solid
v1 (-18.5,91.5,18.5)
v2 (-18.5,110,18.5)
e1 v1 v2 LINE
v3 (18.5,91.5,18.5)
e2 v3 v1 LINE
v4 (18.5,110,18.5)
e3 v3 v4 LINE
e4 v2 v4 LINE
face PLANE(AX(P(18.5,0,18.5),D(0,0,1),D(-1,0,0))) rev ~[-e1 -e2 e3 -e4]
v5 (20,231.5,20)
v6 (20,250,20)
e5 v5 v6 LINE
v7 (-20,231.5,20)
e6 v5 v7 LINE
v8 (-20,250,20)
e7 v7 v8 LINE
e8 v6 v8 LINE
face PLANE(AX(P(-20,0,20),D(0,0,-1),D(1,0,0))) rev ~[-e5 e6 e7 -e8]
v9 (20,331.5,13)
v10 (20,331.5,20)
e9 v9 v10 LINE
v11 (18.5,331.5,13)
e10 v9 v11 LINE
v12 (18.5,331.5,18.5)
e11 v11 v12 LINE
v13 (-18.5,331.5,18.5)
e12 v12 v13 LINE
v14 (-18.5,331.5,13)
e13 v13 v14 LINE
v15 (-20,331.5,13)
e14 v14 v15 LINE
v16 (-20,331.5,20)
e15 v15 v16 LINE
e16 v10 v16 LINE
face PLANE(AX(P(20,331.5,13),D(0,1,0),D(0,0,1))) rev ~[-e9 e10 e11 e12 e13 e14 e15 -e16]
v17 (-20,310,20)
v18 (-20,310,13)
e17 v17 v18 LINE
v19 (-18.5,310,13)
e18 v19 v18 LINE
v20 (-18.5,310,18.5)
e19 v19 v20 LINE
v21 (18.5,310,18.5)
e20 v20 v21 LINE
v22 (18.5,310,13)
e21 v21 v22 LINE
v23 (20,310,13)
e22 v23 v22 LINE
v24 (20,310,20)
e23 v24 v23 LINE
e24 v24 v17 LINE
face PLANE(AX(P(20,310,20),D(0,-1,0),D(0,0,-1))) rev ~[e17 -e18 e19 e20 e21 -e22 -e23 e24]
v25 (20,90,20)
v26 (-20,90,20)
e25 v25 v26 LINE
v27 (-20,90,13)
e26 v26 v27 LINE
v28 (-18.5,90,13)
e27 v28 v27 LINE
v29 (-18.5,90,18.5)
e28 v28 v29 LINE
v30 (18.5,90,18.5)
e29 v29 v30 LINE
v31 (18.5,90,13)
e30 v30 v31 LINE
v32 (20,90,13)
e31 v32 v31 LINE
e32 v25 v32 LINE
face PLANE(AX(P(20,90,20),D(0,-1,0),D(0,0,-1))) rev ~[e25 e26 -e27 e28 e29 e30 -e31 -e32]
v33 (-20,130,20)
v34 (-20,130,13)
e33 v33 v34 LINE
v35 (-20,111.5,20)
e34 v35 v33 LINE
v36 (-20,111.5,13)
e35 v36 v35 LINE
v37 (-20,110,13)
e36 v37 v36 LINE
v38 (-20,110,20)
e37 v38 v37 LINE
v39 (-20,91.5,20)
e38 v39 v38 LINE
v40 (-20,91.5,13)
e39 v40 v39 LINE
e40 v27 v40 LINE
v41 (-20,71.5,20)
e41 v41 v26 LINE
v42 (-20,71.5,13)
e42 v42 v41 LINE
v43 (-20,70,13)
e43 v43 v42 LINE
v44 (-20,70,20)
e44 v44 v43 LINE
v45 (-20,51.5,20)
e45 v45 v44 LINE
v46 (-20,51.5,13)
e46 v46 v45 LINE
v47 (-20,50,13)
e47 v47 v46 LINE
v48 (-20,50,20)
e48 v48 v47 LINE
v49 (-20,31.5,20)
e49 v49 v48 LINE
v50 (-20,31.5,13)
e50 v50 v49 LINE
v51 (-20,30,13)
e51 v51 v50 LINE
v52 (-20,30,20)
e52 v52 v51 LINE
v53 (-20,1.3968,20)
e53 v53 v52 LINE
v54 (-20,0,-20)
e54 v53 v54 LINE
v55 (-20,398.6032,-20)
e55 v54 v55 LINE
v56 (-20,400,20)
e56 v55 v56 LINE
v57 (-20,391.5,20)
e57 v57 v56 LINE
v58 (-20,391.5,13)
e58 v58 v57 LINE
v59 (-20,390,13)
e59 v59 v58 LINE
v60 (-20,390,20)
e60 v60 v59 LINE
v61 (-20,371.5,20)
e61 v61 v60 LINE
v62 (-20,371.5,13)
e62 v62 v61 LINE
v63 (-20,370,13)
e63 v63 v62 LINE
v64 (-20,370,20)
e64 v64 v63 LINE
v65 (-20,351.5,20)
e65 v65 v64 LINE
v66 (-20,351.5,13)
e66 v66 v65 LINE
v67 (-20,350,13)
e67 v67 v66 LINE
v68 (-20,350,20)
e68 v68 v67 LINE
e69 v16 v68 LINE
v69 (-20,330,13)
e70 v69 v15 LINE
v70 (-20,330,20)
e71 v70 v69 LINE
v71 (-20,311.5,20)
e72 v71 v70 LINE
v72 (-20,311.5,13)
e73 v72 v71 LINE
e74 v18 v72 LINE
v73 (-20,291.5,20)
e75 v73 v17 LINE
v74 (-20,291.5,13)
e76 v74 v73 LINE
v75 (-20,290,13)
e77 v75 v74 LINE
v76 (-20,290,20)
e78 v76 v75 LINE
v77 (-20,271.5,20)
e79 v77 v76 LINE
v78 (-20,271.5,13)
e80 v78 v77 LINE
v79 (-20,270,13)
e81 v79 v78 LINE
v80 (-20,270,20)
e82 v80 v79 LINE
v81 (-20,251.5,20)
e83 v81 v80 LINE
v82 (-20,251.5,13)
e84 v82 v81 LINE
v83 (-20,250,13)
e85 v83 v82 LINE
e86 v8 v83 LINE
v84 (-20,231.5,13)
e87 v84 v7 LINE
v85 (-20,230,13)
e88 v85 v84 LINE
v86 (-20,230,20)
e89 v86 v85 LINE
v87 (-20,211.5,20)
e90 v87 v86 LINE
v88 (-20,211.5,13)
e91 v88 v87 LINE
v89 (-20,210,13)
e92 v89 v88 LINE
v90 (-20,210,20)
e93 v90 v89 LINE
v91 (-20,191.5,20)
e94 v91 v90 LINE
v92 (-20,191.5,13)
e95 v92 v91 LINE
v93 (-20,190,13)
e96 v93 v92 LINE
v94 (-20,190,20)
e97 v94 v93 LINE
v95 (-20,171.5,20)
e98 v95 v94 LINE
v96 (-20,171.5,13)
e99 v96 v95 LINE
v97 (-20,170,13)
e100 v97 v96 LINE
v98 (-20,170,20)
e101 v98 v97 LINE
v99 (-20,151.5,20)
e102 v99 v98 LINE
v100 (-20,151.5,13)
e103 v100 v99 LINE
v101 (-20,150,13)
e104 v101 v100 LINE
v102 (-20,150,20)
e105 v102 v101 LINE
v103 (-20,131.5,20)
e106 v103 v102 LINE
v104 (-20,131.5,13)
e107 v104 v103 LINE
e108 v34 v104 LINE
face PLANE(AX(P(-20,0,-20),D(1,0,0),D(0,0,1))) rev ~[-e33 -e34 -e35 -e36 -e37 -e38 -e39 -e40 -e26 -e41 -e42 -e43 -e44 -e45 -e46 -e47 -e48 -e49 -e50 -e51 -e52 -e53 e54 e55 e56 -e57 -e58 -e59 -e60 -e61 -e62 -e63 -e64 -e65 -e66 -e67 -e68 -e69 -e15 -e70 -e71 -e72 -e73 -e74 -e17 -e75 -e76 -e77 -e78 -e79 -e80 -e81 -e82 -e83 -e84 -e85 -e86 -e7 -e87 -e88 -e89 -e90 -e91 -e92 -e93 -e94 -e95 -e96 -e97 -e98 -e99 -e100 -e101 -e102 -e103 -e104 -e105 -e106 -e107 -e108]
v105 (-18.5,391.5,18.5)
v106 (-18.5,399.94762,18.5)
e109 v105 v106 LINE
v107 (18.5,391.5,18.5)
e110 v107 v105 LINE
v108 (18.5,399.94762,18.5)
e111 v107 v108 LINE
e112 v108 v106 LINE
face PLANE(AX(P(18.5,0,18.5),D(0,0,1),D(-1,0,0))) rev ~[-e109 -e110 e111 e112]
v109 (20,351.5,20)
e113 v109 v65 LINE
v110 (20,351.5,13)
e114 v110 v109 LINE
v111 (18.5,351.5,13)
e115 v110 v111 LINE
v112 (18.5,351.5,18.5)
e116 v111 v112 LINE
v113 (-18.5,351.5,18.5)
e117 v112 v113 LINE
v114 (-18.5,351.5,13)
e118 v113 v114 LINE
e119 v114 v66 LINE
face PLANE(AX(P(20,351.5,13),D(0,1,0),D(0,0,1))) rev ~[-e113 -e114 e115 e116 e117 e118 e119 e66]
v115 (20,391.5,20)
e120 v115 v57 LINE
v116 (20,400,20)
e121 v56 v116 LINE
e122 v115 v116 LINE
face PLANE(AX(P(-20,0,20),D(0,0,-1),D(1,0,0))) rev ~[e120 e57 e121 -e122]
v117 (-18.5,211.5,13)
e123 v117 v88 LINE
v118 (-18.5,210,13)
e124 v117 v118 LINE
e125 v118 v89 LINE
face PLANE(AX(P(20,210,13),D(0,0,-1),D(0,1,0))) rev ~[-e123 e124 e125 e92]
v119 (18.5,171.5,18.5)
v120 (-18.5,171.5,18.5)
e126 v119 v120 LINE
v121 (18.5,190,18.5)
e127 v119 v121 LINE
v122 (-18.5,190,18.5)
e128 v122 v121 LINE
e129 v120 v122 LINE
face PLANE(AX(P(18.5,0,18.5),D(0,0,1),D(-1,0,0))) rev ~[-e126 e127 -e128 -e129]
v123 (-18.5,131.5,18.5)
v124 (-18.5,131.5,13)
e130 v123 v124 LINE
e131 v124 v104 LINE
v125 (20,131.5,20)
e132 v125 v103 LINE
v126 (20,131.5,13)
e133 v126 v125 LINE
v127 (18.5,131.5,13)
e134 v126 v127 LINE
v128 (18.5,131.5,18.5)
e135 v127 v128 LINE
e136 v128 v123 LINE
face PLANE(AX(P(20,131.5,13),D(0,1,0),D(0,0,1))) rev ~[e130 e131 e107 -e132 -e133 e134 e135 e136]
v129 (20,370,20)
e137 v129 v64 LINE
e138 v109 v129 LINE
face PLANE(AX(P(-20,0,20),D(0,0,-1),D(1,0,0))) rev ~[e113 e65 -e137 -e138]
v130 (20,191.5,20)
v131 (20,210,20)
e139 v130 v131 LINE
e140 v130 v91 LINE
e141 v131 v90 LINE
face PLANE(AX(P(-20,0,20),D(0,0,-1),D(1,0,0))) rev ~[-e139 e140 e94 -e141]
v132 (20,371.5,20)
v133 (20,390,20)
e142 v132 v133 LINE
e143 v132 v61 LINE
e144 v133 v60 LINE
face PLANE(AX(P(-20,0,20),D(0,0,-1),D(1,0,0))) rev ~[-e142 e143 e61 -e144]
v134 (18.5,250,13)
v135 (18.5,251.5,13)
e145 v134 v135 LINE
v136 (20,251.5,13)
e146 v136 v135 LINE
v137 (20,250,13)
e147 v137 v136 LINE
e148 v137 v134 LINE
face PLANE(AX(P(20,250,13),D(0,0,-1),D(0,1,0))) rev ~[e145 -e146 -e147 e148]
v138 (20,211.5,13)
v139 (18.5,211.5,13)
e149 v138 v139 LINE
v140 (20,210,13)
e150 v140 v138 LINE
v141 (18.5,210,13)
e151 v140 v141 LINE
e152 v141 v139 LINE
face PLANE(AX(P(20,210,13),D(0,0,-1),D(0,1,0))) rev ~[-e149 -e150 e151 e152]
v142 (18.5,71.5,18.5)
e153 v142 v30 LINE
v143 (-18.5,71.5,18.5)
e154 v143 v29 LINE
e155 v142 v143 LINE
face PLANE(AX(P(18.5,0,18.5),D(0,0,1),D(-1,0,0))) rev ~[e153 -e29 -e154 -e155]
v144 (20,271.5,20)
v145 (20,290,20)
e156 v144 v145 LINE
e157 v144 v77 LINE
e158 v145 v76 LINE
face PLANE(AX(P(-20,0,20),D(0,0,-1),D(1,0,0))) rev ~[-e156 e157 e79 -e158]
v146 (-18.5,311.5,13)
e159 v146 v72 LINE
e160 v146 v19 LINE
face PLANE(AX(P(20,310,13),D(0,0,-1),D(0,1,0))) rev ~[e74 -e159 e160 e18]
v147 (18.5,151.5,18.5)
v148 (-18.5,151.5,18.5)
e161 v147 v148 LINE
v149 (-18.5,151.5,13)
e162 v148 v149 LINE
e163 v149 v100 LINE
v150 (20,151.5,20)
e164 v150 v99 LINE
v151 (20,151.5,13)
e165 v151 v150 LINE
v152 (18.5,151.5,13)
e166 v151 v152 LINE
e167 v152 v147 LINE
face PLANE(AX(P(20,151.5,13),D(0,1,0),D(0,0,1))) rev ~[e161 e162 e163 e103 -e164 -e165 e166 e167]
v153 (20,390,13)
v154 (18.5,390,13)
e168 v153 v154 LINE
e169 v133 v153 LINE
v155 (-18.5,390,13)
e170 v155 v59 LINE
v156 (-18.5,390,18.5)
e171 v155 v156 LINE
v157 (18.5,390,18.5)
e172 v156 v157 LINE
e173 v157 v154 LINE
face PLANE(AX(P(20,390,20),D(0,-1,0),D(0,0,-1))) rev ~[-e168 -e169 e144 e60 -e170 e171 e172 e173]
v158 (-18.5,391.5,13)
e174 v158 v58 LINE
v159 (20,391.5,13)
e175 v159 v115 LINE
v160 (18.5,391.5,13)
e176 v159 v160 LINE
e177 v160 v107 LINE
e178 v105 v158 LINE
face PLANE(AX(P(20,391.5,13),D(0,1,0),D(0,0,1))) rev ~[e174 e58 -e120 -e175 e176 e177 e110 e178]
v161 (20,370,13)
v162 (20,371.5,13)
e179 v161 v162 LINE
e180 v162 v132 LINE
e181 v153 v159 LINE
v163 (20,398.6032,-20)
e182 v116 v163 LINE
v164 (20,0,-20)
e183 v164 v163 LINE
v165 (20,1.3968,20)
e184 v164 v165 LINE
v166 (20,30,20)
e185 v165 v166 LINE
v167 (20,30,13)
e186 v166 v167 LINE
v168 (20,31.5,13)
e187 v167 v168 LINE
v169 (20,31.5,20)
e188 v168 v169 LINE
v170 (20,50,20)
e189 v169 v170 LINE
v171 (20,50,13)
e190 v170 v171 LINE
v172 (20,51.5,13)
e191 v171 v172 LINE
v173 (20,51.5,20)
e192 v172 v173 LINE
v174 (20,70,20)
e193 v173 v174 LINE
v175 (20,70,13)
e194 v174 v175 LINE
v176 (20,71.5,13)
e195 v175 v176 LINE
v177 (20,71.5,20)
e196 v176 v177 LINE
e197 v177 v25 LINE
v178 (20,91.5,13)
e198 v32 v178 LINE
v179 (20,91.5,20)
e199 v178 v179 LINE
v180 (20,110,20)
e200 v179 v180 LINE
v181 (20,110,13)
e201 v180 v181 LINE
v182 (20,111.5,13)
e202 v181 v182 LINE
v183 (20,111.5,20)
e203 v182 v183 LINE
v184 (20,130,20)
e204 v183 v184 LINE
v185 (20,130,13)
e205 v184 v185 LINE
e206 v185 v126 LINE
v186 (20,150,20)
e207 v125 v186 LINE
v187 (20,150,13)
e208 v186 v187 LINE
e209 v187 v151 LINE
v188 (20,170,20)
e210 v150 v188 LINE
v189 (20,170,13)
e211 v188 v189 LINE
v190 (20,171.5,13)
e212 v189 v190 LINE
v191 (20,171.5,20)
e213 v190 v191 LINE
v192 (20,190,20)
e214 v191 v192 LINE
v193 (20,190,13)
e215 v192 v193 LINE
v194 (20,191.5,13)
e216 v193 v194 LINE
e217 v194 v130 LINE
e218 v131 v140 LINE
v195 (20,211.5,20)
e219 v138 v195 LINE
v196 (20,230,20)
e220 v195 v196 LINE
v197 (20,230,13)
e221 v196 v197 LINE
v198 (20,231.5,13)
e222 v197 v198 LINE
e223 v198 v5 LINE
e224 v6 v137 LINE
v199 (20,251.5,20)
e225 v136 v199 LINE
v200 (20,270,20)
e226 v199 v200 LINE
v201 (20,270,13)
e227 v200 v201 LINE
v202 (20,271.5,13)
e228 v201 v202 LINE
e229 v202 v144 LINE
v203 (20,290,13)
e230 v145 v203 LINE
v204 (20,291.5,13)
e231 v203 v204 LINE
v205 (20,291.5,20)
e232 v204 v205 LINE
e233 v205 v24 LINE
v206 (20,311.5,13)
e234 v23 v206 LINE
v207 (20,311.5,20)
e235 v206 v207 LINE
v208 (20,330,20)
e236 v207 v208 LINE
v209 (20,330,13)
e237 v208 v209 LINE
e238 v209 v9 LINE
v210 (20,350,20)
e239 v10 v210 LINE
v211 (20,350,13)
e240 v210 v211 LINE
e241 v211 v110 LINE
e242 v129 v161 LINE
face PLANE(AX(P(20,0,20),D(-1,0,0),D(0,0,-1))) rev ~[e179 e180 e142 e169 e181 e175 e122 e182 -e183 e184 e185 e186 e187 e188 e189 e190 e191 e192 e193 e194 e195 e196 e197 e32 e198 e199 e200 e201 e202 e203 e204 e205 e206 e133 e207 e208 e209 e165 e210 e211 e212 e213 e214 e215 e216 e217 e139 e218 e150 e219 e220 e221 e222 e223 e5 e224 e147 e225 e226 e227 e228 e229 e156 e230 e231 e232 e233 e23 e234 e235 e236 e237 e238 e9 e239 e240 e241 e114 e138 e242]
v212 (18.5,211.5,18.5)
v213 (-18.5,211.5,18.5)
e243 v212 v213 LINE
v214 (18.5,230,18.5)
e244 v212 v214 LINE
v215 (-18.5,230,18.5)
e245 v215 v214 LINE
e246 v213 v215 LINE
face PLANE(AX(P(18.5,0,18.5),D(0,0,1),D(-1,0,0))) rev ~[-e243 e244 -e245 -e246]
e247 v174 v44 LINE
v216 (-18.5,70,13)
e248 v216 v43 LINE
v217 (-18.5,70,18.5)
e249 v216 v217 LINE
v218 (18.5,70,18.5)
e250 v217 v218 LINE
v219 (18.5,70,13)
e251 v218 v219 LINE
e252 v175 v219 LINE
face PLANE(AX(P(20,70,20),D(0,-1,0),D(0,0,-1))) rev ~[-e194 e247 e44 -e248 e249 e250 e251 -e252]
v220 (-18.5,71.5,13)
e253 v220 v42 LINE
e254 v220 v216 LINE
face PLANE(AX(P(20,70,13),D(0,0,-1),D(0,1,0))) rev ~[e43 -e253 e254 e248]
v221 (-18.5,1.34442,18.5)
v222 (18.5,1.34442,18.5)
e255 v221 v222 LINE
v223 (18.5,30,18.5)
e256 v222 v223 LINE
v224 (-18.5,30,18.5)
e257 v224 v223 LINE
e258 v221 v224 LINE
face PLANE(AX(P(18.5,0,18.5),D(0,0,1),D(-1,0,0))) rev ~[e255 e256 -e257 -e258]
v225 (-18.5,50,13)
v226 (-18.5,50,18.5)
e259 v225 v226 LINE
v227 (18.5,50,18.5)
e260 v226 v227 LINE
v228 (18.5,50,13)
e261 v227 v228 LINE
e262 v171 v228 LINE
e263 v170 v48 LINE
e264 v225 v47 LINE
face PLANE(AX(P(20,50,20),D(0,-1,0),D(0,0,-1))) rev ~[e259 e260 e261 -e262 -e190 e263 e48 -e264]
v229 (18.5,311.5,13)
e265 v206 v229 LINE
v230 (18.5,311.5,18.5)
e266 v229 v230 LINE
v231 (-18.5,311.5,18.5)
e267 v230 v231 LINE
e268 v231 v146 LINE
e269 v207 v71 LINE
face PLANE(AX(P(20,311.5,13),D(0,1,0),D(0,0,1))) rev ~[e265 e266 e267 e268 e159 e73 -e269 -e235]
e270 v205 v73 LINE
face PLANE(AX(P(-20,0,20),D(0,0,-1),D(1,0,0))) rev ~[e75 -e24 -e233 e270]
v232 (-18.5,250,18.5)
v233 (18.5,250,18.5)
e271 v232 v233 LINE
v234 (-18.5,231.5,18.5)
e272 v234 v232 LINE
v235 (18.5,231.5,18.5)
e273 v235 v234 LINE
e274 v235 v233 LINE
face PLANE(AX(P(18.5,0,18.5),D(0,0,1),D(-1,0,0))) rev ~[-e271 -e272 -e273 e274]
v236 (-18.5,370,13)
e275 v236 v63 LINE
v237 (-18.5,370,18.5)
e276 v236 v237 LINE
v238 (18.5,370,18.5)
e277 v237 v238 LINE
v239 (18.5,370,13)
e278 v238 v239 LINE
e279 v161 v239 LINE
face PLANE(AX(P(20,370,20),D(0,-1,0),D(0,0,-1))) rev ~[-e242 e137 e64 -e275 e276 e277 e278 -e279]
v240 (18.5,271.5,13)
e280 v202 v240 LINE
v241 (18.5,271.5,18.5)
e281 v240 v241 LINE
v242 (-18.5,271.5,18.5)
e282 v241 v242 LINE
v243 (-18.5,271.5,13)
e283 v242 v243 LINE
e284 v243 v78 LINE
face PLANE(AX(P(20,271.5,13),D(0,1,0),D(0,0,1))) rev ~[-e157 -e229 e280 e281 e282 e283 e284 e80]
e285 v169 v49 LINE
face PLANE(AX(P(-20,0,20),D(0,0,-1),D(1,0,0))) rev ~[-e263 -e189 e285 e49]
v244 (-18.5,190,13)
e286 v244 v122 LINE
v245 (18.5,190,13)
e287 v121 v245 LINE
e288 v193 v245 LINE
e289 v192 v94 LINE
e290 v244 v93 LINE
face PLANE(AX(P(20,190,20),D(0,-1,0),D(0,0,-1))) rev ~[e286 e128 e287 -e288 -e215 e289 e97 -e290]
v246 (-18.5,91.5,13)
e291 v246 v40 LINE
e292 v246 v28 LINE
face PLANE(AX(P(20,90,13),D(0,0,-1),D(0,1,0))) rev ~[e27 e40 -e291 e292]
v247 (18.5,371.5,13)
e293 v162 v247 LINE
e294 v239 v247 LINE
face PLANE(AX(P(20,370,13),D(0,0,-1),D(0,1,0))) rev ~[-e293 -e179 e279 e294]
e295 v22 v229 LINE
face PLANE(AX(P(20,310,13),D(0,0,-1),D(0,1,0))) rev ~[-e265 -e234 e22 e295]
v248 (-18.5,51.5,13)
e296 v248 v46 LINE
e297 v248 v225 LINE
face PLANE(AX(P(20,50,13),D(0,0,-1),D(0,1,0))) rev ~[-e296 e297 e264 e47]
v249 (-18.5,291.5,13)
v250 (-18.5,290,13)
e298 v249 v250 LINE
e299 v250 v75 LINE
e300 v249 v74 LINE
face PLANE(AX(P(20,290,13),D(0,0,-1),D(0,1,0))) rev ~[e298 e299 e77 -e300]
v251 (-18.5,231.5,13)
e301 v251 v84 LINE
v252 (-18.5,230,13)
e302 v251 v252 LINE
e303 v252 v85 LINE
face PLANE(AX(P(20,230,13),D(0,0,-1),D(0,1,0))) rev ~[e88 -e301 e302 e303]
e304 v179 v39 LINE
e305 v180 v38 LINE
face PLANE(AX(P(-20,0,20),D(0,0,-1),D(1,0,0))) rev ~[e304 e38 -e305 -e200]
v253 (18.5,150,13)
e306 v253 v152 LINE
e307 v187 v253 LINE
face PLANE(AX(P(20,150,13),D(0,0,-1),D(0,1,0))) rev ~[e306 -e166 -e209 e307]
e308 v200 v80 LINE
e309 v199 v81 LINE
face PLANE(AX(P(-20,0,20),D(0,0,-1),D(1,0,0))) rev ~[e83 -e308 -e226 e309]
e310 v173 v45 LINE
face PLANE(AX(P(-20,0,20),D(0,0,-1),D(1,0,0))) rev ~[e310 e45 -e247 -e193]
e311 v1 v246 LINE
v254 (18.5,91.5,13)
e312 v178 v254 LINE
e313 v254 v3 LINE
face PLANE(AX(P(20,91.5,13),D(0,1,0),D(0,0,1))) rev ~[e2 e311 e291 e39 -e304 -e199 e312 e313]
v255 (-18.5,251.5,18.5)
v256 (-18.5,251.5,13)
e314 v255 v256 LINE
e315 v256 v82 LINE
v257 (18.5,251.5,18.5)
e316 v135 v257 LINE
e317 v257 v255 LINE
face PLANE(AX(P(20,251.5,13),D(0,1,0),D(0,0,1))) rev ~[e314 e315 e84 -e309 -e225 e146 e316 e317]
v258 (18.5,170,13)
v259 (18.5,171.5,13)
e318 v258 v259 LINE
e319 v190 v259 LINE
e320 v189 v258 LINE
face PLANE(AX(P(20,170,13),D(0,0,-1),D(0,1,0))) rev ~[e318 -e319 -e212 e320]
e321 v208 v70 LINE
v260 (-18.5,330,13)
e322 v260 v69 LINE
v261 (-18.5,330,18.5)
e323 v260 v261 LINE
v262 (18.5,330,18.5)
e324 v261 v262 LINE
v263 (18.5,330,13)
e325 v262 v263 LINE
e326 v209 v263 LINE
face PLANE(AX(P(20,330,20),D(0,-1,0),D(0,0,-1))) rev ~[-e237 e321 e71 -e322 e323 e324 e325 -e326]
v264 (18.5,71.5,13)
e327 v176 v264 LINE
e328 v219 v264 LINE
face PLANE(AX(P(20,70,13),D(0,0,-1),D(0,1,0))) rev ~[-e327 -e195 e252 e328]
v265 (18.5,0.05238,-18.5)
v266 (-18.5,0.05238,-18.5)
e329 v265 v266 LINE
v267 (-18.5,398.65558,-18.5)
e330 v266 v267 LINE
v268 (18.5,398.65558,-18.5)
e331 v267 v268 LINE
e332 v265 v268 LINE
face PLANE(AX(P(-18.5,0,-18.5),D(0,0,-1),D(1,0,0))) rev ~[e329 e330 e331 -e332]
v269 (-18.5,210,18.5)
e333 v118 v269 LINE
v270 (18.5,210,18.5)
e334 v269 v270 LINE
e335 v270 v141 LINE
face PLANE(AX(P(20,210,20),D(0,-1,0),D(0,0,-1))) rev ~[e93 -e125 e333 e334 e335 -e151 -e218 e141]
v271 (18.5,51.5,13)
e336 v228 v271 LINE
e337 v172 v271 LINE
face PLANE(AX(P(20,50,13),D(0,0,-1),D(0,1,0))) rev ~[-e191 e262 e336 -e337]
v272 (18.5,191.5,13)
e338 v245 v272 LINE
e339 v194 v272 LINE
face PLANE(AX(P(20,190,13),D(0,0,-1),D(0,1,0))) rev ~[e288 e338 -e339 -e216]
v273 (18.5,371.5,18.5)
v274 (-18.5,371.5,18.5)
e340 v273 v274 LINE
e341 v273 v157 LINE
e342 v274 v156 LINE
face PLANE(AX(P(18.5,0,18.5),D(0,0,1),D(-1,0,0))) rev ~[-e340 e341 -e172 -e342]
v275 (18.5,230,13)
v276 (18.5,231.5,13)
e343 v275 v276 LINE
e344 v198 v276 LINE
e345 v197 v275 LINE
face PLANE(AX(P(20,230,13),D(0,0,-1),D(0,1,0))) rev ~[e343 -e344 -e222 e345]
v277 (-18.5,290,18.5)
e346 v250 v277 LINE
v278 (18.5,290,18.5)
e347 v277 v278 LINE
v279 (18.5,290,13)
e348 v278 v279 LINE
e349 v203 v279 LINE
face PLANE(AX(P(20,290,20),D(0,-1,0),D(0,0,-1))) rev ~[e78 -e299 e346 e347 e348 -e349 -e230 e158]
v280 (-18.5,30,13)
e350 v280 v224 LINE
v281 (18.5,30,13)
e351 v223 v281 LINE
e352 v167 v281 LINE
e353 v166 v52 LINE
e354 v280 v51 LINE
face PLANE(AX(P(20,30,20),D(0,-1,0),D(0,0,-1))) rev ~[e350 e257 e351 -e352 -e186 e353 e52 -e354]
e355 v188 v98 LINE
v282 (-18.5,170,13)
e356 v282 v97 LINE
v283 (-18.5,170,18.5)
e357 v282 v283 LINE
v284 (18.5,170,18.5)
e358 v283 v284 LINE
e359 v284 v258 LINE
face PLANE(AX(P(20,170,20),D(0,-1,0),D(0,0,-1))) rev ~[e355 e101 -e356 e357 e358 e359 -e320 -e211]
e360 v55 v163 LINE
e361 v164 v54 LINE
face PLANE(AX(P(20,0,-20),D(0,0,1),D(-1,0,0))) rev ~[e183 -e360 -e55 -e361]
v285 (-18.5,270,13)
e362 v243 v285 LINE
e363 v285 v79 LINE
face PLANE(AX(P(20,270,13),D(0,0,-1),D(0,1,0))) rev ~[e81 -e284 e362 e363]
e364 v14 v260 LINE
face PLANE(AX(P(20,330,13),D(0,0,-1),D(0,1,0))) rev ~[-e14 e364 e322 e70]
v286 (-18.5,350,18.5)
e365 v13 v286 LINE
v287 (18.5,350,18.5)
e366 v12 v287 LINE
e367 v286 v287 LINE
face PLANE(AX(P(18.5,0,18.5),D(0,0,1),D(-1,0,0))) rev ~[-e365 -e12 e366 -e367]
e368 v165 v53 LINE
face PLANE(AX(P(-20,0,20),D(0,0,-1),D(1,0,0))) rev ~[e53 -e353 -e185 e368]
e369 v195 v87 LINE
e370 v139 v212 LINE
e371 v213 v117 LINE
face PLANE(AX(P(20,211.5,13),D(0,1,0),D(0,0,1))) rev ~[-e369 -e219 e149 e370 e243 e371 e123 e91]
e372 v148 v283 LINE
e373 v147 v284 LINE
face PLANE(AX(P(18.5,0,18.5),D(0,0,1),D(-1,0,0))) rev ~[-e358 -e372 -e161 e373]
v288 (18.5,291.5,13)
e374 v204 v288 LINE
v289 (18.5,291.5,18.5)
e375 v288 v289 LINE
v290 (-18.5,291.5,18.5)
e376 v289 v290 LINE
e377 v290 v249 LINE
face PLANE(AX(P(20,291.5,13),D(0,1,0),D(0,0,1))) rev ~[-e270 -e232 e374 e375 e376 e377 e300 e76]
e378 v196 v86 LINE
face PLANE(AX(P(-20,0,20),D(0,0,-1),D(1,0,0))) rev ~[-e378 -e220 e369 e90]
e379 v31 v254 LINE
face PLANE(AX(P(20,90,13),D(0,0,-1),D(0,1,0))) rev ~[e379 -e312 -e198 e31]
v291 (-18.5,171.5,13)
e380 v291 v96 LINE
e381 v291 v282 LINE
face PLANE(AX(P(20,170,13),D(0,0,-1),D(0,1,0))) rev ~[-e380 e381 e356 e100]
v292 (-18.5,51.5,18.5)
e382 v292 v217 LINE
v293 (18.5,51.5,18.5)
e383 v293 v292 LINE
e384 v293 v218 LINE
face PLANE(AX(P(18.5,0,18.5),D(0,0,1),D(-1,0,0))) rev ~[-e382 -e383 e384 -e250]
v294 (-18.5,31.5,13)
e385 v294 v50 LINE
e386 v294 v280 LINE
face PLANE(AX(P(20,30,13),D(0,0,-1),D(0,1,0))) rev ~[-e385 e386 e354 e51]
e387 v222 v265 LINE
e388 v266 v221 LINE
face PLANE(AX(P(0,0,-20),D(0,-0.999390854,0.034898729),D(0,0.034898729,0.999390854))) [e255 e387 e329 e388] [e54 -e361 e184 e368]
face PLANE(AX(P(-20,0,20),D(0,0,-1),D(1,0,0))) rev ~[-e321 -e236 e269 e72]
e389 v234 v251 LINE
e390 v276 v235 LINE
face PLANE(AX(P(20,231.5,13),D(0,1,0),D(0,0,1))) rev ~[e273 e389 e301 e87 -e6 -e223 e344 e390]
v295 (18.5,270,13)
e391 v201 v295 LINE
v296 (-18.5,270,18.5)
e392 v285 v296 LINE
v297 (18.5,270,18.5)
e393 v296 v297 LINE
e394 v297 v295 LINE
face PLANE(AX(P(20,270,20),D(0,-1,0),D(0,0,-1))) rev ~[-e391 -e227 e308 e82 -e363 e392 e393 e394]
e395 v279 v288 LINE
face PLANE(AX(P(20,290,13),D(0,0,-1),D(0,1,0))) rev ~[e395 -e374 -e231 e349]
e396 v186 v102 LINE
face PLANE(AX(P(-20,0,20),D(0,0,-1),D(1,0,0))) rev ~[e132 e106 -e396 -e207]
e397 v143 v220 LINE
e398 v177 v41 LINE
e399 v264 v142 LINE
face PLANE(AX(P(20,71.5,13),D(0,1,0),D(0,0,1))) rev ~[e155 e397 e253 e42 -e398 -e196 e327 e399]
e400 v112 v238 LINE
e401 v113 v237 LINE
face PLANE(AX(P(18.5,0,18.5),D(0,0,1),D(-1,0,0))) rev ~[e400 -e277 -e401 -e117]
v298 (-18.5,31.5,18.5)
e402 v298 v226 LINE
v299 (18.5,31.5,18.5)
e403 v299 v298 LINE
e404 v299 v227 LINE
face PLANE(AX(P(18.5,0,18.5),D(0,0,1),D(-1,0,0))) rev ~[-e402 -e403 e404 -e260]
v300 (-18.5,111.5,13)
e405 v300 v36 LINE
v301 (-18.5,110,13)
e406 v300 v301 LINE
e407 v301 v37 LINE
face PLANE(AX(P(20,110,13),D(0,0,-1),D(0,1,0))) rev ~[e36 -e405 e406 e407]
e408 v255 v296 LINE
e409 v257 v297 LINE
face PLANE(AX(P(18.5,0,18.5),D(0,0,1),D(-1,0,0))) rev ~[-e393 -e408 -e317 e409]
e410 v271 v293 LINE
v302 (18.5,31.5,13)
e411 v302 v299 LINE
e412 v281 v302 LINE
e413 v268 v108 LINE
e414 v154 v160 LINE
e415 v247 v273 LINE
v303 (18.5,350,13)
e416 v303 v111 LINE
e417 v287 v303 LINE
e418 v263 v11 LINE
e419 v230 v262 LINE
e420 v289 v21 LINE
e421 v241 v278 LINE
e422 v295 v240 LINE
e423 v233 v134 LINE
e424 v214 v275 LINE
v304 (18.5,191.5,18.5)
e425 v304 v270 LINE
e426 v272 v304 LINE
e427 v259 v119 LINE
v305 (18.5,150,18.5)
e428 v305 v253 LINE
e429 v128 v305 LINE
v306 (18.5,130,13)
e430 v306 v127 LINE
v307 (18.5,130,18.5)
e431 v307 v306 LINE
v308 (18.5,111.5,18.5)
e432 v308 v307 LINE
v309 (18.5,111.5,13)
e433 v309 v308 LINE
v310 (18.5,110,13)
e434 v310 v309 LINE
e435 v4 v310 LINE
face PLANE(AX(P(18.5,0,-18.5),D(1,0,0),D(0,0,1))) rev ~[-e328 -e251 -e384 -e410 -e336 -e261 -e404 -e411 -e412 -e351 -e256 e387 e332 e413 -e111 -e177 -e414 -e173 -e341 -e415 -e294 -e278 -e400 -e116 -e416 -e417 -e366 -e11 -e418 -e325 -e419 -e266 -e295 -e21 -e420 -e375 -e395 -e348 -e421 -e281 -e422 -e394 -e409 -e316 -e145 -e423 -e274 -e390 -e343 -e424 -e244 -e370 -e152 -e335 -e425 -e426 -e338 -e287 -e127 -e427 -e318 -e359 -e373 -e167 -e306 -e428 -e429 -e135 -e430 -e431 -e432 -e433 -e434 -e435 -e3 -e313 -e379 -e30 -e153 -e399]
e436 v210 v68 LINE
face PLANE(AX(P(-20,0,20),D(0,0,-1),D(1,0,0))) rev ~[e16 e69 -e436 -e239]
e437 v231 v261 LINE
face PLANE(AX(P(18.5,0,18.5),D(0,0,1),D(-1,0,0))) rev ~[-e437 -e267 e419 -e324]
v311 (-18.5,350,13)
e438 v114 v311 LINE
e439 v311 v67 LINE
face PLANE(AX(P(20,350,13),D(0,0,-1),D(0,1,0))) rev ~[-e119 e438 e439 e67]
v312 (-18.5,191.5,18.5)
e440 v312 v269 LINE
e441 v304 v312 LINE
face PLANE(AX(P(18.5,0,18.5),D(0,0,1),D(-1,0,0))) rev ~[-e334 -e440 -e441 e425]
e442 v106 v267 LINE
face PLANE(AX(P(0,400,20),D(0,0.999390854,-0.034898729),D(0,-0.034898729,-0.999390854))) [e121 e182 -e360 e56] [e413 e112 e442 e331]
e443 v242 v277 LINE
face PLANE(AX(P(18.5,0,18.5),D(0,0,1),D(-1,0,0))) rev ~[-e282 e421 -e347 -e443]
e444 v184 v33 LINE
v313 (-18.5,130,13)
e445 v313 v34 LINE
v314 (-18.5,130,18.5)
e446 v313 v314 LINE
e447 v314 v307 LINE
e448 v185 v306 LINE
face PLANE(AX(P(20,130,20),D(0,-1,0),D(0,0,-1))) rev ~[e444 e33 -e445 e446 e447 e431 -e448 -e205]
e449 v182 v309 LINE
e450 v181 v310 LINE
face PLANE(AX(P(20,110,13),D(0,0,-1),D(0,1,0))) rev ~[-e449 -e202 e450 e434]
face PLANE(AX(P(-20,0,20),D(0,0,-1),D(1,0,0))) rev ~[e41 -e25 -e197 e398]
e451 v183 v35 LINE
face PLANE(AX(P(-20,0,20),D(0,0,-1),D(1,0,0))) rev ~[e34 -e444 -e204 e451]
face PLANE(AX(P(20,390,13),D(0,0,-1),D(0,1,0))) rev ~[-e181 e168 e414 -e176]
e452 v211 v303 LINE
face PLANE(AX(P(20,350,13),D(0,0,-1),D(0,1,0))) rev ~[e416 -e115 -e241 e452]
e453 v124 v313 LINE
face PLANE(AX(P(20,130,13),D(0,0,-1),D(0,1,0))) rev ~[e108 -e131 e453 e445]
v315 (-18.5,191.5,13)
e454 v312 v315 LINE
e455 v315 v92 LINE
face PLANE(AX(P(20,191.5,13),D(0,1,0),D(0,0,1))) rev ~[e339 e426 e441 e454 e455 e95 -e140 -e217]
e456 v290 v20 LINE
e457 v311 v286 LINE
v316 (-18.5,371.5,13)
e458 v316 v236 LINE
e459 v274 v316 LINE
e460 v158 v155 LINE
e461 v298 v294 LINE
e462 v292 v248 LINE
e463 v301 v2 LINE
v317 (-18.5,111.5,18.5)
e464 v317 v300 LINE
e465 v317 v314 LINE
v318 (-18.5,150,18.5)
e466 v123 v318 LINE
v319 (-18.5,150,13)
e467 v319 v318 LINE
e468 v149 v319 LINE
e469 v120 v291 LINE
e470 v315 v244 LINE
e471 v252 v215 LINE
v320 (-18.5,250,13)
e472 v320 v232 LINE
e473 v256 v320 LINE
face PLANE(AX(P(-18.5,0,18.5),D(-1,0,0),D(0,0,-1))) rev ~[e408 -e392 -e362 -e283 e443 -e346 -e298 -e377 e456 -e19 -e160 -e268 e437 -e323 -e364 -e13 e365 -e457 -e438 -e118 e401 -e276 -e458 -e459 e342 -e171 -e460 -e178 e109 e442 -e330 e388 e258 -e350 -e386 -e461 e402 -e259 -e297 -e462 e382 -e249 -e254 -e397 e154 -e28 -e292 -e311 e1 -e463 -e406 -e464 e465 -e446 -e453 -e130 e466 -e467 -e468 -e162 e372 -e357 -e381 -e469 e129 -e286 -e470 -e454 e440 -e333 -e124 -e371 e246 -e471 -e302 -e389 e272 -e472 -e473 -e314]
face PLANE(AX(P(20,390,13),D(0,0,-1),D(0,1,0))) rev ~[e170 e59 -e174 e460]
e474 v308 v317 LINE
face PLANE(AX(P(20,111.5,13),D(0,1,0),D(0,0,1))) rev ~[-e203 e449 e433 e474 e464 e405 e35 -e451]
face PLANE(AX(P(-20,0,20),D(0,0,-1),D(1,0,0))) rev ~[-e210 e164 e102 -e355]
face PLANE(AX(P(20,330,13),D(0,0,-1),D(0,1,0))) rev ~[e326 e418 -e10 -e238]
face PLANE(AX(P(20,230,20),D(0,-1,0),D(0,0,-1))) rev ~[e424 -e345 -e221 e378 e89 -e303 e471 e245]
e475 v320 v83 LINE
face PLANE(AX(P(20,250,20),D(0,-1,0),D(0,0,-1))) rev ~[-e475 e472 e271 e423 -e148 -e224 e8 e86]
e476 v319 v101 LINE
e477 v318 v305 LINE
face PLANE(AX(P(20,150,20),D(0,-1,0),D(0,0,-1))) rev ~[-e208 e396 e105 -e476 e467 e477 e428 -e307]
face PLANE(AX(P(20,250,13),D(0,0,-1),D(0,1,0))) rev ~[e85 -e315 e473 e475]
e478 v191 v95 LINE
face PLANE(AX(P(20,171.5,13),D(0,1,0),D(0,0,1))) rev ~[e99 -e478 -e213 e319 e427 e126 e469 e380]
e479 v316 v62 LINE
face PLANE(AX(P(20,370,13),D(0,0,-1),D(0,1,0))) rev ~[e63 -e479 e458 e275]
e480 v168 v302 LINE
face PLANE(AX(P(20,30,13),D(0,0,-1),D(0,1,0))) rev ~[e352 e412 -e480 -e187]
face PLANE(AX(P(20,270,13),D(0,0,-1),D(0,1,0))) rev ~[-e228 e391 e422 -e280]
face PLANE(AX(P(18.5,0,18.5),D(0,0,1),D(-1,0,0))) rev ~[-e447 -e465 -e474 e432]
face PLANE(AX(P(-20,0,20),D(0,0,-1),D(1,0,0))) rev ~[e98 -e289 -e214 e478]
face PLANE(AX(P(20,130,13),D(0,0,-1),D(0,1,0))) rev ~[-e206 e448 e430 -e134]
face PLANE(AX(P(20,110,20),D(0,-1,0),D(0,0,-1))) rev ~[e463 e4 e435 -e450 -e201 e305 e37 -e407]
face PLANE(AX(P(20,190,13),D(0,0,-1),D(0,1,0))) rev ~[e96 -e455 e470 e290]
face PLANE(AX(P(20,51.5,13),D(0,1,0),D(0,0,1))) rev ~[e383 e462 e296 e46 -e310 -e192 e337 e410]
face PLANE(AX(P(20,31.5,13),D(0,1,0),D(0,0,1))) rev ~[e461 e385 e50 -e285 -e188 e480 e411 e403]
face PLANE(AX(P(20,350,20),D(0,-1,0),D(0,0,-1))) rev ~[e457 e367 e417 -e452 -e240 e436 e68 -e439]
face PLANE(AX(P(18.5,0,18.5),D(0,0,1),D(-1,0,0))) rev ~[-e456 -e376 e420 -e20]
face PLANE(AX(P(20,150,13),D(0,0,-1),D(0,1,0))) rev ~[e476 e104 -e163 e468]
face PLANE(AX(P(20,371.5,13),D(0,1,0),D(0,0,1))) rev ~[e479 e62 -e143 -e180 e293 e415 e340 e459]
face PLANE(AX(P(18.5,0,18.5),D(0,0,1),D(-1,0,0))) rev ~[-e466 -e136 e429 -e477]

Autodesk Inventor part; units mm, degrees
ref_plane "YZ Plane" through (0, 0, 0) normal (1, 0, 0) x (0, 1, 0)
ref_plane "XZ Plane" through (0, 0, 0) normal (0, 1, 0) x (-1, 0, 0)
ref_plane "XY Plane" through (0, 0, 0) normal (0, 0, 1) x (1, 0, 0)
sketch "Sketch1" plane through (0, 0, 0) normal (0, 1, 0) x (-1, 0, 0)
  line L0 (20, 20) -> (-20, 20)
  line L1 (-20, 20) -> (-20, -20)
  line L2 (-20, -20) -> (20, -20)
  line L3 (20, -20) -> (20, 20)
  line L4 (20, 20) -> (-20, -20) construction
  line L5 (-20, 20) -> (20, -20) construction
  line L6 (-18.5, 18.5) -> (18.5, 18.5)
  line L7 (18.5, 18.5) -> (18.5, -18.5)
  line L8 (18.5, -18.5) -> (-18.5, -18.5)
  line L9 (-18.5, -18.5) -> (-18.5, 18.5)
  point P0 (0, 0)
  dimension "d7" = 40
  dimension "d8" = 40
  dimension "d9" = 1.5
extrude "Extrusion1" add sketch "Sketch1" along normal blind 400
sketch "Sketch2" plane through (20, 0, 20) normal (1, 0, 0) x (0, 0, -1)
  line L0 (0, 0) -> (0, 400) projected
  line L1 (0, 30) -> (7, 30)
  line L2 (7, 30) -> (7, 31.5)
  line L3 (7, 31.5) -> (0, 31.5)
  line L4 (0, 31.5) -> (0, 30)
  point P0 (20, 0)
  point P1 (0, 31.5)
  dimension "d10" = 7
  dimension "d11" = 1.5
  dimension "d17" = 30
extrude "Extrusion2" cut sketch "Sketch2" against normal through all
pattern_linear "Rectangular Pattern1" count 49 spacing 20 along (0, 1, 0) of "Extrusion2"
sketch "Sketch5" plane through (0, 0, 0) normal (1, 0, 0) x (0, 1, 0)
  line L0 (0, 20) -> (0, -20) projected
  line L1 (0, 20) -> (30, 20) projected
  line L2 (0, -20) -> (1.3968, 20)
  line L3 (0, -20) -> (400, -20) projected
  line L4 (400, -20) -> (400, 20) projected
  line L5 (400, 20) -> (398.6032, -20)
  point P0 (0, 0)
  dimension "d18" = 2
extrude "Extrusion3" cut sketch "Sketch5" along normal through all both and the other way through all
equation "\"d1\" = BEAM_4_lenth"
equation "\"d18\" = BEAM_4_angle"
equation "\"BEAM_4_lenth\" = 400"
equation "\"BEAM_4_angle\" = 2deg"
properties part number "MNT-CDF-314 beam 4"
